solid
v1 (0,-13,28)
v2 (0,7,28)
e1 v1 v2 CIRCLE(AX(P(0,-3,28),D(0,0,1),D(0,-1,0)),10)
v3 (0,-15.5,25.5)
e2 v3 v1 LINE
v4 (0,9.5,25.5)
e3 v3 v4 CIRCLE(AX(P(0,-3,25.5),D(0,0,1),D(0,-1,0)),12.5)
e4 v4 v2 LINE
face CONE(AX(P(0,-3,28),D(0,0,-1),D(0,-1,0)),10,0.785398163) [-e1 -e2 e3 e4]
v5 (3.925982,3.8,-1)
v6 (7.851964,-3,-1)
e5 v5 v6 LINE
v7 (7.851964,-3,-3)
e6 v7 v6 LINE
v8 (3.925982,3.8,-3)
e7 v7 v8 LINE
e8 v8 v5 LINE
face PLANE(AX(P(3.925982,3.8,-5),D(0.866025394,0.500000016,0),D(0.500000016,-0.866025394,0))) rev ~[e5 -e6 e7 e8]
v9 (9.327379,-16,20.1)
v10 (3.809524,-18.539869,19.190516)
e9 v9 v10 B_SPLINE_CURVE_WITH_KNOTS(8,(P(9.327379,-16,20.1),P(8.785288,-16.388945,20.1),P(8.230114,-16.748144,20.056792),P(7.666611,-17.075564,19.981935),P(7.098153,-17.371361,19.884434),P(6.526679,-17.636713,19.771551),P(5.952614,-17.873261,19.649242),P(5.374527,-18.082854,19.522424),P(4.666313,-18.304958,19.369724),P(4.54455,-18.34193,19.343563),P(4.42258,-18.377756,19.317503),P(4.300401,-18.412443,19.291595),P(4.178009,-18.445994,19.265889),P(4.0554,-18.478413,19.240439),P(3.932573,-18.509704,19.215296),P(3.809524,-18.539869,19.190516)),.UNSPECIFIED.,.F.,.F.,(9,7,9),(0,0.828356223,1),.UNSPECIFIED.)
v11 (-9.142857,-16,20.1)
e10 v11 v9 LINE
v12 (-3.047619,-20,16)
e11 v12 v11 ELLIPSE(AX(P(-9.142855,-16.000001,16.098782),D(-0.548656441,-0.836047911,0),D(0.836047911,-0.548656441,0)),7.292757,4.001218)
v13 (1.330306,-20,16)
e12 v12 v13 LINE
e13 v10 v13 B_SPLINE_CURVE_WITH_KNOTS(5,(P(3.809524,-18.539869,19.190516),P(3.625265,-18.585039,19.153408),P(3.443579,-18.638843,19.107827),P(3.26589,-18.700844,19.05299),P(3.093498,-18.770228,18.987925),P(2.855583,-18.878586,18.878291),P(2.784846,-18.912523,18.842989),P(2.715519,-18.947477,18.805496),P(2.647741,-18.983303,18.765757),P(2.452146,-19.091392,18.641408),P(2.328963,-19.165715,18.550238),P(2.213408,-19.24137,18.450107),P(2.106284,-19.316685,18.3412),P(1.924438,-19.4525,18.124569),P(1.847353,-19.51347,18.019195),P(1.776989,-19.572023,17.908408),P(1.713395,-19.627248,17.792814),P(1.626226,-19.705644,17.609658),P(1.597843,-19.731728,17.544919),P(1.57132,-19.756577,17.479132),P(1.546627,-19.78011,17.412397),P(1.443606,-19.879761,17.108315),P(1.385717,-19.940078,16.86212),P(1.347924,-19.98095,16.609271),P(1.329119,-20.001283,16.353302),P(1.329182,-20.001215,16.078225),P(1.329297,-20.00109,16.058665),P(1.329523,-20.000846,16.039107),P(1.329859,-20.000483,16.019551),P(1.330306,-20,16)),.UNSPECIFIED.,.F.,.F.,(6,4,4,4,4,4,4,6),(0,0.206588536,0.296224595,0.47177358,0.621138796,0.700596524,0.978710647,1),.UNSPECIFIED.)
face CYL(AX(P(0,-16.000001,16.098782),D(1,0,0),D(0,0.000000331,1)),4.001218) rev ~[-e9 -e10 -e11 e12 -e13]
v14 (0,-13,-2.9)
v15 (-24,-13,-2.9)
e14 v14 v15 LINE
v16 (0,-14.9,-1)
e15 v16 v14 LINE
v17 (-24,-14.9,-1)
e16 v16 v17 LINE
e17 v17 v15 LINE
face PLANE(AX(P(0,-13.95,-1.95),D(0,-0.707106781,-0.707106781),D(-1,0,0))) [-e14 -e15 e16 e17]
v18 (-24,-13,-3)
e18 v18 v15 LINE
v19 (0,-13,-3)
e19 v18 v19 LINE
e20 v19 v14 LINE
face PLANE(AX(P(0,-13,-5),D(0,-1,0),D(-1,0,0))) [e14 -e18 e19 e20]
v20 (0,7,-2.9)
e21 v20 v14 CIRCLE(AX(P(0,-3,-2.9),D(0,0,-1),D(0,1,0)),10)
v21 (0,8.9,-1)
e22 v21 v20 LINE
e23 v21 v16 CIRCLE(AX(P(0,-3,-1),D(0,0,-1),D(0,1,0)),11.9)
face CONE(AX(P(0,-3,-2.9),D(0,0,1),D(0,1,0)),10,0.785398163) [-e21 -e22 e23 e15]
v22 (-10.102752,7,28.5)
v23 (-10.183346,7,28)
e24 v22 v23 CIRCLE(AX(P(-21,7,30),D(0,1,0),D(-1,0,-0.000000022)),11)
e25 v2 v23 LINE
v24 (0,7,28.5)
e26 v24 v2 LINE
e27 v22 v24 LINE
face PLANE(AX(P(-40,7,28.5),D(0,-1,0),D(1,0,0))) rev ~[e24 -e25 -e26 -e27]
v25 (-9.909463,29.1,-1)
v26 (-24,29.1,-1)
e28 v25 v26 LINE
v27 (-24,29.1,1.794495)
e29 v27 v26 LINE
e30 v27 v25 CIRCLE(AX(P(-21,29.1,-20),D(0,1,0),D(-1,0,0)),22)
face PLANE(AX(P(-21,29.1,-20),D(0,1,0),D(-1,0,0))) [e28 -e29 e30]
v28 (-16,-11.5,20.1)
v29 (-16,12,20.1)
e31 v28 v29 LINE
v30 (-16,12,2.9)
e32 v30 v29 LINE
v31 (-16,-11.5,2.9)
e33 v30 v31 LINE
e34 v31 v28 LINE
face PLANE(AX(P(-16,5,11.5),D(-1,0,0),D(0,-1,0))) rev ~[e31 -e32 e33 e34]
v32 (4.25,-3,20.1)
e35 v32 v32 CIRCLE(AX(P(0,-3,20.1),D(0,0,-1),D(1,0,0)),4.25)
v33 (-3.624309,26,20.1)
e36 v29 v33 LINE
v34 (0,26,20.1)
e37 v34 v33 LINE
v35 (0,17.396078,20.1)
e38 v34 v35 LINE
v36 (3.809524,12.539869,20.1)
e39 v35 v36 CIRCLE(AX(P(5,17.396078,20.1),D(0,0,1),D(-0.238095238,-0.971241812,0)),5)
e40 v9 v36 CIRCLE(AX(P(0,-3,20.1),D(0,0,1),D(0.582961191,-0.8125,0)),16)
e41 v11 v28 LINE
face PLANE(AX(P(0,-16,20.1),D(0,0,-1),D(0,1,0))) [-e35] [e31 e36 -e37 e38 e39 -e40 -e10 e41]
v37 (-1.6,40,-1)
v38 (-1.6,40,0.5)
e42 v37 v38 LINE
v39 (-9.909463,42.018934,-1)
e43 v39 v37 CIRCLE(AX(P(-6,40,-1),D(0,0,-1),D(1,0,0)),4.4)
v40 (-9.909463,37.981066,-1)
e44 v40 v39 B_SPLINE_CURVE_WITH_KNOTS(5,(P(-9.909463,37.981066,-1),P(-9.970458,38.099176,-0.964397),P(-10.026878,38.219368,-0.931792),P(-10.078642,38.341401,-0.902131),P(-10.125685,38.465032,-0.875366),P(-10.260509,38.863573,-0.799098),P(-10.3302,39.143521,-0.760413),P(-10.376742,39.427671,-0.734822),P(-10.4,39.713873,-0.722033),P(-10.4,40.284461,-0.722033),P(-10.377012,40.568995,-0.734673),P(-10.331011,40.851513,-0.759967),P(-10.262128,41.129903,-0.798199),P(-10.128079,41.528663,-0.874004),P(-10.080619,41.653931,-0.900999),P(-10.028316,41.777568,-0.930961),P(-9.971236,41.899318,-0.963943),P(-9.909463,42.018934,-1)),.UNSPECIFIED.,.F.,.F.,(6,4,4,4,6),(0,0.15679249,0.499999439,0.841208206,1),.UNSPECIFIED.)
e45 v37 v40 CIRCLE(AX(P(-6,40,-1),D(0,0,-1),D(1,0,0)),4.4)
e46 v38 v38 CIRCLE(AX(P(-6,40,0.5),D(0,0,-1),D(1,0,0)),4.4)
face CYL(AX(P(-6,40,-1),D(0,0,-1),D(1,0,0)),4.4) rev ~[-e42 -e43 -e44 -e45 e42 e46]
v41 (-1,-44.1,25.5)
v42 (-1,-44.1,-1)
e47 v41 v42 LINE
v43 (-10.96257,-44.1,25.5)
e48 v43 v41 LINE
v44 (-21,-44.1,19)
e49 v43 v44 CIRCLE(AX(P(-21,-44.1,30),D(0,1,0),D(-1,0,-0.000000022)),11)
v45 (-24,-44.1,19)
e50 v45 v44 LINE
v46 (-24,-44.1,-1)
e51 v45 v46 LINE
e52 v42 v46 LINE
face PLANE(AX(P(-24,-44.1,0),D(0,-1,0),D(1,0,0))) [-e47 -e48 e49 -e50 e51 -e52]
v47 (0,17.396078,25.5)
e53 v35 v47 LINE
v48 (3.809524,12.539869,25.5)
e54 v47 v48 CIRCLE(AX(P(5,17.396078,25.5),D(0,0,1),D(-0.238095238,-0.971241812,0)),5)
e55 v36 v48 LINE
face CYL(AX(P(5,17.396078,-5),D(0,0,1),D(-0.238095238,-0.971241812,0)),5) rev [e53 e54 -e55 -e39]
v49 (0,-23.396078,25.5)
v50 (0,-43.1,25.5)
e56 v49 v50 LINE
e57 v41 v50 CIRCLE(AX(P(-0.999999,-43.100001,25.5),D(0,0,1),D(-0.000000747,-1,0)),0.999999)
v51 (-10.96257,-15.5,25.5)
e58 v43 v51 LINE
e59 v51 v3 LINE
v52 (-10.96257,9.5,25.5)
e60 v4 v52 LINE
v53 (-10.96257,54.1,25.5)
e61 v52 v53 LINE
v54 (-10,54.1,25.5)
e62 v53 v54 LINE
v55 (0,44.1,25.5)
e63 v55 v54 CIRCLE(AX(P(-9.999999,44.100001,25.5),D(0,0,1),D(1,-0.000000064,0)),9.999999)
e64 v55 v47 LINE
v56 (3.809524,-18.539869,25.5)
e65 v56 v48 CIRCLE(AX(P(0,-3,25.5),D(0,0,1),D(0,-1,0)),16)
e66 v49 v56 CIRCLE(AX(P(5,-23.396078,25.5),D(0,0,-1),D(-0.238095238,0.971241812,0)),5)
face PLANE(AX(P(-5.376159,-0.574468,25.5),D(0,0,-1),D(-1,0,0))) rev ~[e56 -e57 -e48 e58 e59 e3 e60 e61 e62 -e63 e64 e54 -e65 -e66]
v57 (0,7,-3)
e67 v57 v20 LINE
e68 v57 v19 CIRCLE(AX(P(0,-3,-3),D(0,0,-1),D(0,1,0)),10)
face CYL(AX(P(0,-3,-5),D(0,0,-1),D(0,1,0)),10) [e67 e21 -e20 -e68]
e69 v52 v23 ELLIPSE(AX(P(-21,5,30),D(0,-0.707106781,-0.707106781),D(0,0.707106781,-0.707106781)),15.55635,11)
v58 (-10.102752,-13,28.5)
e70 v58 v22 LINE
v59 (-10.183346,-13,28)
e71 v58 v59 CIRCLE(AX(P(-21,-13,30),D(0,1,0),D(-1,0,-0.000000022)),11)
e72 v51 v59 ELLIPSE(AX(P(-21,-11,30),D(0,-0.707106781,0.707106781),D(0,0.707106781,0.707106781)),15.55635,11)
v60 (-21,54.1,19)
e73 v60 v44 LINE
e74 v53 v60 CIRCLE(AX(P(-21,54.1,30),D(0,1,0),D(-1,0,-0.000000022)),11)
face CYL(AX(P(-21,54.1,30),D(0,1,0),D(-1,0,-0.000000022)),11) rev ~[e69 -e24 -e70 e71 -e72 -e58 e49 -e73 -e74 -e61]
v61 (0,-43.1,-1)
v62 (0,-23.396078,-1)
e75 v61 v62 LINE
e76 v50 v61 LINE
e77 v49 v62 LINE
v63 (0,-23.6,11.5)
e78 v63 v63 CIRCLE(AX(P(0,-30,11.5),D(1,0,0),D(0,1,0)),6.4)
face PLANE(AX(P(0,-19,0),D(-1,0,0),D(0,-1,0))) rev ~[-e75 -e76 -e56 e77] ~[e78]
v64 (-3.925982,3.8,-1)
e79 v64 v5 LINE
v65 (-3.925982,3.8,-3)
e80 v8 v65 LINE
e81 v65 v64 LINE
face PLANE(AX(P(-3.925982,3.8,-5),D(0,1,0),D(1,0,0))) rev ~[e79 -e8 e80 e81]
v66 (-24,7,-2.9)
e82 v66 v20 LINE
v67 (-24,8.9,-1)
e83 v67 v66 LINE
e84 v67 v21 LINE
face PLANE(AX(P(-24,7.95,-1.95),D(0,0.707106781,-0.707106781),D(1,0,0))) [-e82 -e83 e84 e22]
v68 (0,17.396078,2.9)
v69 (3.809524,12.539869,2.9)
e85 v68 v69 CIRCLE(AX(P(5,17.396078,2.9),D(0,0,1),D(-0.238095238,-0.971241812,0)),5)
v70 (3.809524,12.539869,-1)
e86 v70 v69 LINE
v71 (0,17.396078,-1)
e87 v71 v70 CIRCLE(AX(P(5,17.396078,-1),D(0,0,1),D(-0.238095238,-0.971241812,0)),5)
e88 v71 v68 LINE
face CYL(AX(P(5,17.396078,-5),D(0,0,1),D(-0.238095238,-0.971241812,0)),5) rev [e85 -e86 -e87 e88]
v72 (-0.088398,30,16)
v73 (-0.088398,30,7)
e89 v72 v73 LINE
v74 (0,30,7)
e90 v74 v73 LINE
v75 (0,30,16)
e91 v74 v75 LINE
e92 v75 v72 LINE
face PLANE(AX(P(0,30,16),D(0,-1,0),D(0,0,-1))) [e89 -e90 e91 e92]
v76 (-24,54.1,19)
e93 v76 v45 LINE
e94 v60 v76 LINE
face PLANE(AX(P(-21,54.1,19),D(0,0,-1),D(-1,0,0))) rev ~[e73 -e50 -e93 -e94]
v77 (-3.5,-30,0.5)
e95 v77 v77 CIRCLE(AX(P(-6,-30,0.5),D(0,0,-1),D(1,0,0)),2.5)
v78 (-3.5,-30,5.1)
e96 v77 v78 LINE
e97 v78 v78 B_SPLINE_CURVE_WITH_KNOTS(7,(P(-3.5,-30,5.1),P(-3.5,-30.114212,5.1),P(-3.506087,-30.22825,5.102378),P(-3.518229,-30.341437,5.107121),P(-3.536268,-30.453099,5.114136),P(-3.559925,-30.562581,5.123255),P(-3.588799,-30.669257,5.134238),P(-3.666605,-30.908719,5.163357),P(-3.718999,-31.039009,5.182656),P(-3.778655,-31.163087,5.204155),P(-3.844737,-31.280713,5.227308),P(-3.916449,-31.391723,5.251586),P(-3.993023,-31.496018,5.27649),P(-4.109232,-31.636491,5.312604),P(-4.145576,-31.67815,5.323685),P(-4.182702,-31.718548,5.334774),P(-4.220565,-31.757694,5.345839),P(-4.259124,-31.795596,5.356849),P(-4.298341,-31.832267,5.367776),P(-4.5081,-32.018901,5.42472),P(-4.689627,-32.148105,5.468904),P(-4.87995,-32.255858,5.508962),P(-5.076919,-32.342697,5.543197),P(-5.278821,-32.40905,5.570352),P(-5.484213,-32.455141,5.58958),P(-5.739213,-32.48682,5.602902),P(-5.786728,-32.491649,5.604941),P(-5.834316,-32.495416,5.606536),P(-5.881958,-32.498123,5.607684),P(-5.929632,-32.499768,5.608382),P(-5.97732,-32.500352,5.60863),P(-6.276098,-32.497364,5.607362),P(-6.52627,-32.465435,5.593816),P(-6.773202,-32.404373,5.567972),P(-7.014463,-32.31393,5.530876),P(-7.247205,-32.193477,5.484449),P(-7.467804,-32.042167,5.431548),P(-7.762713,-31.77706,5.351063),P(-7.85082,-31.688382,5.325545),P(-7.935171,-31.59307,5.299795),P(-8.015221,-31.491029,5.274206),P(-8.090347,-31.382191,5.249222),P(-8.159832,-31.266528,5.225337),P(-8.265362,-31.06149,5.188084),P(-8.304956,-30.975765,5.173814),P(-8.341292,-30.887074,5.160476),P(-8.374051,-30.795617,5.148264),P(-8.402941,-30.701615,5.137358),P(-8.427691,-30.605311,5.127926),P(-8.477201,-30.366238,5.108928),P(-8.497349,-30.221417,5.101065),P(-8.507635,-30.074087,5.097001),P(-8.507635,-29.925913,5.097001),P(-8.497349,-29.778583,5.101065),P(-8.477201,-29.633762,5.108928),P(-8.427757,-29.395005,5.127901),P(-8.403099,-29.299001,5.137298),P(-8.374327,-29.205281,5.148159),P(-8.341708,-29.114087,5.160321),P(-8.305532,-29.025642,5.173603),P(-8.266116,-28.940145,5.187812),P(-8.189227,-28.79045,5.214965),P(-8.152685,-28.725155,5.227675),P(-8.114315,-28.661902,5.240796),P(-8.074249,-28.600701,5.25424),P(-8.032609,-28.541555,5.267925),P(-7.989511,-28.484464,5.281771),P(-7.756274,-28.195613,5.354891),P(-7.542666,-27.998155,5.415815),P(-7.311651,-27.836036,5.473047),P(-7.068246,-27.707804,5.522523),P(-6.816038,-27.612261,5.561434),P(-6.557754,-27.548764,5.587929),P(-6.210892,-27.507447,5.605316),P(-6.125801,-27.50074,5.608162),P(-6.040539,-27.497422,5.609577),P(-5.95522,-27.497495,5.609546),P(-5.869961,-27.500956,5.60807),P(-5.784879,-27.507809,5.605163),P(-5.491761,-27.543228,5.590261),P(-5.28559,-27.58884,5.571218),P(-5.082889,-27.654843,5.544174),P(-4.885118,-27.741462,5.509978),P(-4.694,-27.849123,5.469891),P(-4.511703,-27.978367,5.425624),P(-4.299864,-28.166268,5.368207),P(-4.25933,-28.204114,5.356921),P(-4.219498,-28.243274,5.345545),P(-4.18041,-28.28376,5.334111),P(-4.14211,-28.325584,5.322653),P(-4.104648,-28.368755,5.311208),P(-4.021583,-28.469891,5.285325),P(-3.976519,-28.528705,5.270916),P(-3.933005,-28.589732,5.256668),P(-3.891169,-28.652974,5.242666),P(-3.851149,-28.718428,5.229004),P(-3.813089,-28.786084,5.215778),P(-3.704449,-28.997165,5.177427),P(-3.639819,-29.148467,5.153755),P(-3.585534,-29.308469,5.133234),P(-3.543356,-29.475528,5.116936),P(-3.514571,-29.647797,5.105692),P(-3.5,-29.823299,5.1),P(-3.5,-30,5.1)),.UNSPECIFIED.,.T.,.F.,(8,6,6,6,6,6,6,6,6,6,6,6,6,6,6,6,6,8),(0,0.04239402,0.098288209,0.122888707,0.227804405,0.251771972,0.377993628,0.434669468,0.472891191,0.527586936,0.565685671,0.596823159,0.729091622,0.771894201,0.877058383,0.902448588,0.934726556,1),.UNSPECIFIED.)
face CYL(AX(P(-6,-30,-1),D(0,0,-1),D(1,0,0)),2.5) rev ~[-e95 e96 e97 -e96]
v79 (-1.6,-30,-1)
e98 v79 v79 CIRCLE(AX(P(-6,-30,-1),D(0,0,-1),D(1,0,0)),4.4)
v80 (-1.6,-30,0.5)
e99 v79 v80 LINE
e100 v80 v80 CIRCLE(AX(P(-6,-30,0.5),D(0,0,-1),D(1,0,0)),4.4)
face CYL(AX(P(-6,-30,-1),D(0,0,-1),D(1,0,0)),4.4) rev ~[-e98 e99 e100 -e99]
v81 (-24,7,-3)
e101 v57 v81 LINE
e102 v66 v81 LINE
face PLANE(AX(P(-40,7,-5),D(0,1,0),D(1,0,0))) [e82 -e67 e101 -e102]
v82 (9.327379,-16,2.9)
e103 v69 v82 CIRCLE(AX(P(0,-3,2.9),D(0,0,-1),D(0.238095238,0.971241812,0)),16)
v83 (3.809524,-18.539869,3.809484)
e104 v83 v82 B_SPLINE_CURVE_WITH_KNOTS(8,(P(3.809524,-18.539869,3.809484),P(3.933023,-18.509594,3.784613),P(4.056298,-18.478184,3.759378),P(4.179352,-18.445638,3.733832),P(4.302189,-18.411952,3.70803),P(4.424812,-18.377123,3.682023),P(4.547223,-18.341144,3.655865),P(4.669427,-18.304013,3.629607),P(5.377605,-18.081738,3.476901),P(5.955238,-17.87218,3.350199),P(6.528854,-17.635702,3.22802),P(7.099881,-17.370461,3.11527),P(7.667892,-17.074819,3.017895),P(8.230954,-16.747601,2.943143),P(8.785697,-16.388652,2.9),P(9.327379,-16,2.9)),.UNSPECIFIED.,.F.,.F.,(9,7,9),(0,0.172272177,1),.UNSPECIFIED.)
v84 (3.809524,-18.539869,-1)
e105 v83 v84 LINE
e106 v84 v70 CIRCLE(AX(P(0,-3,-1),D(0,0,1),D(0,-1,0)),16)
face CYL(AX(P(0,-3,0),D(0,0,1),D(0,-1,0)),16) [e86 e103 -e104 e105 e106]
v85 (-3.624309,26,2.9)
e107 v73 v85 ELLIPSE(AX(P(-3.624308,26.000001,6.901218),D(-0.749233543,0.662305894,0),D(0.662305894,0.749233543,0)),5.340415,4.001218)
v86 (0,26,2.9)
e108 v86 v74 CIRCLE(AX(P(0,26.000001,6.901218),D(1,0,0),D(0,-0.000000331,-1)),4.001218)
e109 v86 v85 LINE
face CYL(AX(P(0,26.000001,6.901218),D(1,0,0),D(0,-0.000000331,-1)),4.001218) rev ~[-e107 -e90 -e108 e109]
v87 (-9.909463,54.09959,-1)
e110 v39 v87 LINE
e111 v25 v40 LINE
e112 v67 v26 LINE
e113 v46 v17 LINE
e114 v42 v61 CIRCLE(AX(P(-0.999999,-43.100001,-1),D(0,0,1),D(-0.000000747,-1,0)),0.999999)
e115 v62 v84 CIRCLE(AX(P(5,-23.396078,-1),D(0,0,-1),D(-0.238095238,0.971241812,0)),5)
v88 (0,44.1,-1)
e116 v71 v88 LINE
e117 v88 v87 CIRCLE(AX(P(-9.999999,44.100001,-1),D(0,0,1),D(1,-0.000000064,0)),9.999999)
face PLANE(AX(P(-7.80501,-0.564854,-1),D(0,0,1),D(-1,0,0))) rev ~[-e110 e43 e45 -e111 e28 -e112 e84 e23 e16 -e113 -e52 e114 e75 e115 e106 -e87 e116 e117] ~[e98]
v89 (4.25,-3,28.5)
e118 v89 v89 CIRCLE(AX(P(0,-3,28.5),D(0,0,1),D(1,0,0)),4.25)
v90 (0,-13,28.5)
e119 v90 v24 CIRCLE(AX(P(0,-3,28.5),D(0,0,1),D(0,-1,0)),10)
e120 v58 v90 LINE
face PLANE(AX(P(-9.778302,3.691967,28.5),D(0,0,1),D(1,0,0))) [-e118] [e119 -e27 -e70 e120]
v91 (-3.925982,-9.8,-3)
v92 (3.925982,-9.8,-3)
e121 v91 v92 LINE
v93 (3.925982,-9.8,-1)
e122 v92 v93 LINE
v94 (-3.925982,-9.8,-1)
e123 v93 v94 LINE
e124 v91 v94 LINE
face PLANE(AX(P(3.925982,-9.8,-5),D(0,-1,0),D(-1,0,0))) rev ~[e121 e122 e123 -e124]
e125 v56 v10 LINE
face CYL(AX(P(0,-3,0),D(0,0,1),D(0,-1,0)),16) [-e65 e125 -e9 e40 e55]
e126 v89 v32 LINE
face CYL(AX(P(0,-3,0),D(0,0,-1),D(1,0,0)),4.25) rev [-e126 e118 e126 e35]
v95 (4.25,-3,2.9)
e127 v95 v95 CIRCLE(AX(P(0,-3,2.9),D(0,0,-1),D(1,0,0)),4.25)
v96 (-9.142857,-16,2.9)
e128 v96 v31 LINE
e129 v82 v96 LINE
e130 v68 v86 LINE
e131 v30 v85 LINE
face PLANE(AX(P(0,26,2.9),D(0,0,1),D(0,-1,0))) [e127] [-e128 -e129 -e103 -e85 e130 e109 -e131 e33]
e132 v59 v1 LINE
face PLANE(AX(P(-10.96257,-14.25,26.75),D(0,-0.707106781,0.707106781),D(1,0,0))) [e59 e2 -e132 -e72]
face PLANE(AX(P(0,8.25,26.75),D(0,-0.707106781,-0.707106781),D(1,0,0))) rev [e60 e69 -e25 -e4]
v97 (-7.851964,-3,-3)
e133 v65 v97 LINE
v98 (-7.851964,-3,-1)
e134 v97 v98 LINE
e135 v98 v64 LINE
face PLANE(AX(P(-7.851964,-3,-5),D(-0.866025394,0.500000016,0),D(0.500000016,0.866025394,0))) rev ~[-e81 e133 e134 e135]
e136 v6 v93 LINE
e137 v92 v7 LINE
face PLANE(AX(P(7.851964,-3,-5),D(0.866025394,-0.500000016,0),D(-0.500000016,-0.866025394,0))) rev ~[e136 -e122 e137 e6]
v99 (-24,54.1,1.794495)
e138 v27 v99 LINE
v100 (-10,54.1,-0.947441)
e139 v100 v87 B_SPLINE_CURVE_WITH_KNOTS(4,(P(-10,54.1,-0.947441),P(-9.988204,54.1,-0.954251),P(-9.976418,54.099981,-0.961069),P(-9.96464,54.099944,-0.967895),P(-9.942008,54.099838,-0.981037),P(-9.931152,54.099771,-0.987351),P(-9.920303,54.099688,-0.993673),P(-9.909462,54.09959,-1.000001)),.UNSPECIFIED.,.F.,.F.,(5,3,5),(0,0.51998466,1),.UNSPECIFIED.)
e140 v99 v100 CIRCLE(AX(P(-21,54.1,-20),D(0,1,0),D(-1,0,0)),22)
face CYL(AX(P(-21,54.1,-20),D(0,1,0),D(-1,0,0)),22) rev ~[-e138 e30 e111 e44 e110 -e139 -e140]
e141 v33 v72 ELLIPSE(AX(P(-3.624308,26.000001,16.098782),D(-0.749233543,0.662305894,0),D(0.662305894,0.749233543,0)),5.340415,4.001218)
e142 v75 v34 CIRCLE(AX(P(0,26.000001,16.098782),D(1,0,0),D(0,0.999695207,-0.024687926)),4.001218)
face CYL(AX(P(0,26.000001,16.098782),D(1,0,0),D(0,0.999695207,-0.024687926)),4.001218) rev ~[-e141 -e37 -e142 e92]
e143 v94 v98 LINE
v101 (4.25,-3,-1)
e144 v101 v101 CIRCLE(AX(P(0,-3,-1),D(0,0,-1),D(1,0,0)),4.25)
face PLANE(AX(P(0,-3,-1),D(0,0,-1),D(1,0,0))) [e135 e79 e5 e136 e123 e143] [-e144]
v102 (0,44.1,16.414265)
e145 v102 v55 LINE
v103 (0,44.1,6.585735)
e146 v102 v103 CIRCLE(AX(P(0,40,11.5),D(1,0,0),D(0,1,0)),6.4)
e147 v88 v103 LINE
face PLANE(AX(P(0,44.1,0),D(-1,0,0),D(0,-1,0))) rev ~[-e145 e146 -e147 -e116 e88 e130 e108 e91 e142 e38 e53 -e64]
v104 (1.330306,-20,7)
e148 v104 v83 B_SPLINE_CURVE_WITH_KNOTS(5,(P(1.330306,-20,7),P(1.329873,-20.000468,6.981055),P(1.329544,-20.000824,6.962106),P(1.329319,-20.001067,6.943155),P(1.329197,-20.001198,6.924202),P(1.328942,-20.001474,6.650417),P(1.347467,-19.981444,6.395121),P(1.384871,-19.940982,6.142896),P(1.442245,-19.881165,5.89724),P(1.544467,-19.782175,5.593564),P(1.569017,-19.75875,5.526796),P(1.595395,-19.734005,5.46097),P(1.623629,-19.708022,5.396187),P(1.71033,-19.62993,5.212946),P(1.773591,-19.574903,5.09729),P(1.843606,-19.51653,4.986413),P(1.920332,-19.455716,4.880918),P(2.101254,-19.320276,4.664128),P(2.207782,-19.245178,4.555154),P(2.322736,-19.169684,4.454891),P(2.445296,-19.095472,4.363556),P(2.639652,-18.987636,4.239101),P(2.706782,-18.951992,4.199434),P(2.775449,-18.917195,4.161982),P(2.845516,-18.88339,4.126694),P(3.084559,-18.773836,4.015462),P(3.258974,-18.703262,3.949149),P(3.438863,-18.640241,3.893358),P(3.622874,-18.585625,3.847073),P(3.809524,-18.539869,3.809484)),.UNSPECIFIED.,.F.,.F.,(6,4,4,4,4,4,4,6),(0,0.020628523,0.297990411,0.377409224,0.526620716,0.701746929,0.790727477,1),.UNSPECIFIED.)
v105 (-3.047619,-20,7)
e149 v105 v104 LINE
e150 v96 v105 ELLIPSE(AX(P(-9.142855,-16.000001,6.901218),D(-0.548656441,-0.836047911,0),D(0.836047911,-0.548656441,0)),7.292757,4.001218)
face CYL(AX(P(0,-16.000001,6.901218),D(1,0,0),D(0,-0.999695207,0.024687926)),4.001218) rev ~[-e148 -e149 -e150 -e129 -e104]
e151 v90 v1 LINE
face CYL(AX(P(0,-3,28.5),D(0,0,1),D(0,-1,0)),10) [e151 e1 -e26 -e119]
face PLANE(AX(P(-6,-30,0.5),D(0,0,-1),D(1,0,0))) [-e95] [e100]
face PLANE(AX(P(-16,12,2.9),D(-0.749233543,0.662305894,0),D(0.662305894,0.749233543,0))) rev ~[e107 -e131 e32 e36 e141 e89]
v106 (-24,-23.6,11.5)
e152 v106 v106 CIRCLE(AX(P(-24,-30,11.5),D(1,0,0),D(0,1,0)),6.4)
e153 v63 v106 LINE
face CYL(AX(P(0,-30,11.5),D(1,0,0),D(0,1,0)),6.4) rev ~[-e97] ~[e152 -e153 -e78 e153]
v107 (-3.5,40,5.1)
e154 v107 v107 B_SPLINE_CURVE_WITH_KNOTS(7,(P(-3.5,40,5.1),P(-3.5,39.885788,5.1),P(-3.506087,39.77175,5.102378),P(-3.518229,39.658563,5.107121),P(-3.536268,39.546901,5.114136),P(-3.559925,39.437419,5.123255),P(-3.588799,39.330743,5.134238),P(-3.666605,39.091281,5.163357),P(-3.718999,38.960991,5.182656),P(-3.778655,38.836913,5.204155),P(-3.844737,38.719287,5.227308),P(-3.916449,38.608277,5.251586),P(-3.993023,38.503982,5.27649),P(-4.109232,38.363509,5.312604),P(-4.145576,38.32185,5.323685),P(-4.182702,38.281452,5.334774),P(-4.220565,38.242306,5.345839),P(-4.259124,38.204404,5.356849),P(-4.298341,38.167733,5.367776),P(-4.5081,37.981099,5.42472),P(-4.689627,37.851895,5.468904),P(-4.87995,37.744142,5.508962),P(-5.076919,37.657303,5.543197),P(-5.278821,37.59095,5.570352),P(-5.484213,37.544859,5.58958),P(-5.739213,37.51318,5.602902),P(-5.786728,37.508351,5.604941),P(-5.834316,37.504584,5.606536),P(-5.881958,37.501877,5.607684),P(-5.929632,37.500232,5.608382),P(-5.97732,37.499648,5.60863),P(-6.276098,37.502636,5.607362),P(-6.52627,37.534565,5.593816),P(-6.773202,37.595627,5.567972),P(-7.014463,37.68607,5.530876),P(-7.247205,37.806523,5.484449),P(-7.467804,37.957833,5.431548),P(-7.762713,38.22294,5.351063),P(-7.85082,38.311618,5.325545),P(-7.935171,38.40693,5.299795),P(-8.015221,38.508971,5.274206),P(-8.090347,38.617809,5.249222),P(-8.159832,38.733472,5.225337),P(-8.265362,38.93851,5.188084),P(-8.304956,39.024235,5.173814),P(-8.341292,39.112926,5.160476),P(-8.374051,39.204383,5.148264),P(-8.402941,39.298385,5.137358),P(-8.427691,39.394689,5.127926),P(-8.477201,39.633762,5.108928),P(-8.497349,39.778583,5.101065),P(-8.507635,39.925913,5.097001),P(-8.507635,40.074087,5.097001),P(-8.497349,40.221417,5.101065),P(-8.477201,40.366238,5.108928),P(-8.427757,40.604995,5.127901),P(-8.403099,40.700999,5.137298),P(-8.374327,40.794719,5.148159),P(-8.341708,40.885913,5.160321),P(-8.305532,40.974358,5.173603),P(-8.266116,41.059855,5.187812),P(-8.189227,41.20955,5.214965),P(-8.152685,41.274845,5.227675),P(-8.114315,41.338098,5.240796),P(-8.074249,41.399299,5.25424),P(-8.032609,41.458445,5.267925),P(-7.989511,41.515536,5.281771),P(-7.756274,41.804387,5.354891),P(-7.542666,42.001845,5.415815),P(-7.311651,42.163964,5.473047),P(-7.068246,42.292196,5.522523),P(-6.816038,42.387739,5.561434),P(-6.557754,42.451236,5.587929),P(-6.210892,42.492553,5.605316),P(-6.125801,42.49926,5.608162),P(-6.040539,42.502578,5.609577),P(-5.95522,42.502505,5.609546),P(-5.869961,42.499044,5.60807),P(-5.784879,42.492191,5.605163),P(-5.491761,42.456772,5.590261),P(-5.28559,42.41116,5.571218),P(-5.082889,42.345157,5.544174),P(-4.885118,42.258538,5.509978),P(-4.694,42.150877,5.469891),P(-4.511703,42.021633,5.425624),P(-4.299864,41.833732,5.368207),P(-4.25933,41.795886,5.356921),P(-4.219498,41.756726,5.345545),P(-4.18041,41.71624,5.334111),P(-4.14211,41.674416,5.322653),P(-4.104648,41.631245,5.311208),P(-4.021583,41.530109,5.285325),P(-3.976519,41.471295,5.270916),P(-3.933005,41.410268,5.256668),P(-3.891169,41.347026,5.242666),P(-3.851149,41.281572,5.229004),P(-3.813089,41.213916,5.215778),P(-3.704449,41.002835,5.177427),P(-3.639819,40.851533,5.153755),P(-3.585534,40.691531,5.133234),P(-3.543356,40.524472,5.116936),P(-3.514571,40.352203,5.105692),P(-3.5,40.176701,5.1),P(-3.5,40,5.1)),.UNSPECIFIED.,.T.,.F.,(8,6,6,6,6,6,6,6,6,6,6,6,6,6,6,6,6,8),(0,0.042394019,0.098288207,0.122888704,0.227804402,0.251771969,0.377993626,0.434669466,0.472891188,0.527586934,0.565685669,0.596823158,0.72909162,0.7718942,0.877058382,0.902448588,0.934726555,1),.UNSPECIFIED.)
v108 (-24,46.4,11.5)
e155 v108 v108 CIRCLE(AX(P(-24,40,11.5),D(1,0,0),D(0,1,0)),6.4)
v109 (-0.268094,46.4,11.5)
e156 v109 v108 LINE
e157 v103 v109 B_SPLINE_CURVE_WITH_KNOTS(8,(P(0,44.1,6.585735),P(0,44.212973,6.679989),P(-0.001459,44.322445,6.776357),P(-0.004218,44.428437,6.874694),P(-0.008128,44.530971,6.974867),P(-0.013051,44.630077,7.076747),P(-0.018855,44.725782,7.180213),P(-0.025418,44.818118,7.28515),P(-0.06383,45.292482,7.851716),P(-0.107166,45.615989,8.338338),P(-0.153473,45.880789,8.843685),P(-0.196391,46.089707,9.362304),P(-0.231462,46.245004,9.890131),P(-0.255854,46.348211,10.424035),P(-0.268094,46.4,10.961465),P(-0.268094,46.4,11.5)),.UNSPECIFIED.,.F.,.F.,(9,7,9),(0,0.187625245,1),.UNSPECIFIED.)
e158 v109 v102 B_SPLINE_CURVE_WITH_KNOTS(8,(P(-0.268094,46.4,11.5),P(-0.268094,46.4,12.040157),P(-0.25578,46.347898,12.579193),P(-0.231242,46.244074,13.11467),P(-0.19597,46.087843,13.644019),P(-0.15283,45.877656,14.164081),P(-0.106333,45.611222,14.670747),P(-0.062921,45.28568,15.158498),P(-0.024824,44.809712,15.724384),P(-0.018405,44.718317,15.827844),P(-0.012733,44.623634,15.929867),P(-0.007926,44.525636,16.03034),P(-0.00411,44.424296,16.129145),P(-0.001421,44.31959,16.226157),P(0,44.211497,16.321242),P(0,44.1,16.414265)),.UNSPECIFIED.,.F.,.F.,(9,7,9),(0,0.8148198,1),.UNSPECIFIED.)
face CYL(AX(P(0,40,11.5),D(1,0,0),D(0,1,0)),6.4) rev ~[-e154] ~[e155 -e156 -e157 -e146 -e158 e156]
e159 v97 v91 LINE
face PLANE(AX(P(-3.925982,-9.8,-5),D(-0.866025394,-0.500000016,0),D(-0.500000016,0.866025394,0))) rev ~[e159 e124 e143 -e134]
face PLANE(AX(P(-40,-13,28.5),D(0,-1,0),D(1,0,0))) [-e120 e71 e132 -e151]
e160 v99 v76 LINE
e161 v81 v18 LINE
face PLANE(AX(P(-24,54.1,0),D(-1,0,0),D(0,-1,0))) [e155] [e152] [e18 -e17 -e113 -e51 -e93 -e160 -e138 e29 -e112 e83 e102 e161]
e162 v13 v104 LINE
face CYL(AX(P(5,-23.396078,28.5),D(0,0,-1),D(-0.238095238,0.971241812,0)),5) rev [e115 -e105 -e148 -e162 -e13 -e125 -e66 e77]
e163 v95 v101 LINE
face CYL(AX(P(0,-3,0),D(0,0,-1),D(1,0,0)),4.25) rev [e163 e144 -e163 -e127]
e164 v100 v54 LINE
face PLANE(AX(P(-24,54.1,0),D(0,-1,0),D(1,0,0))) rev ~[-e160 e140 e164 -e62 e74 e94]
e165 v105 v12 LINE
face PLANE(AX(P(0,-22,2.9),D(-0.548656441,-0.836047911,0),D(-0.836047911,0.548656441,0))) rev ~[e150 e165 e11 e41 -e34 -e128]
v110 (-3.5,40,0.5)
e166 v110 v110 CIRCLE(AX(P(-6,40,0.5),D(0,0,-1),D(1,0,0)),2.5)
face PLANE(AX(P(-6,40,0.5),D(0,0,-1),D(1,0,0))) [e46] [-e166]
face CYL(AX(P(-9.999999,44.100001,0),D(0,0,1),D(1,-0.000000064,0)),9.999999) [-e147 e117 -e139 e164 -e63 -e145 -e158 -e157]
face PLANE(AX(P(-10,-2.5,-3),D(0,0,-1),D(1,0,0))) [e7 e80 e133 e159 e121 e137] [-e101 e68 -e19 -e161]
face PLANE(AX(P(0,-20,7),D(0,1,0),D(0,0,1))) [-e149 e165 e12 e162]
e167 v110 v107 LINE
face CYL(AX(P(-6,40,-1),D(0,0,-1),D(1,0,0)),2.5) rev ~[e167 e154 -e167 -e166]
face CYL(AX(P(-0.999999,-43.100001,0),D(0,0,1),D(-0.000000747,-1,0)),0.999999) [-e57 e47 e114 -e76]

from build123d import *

# Parameters (mm, degrees)
SKETCH_R          = 4.25
PAD_DEPTH         = 28.5
PAD_DEPTH_BACK    = 5
FILLET_R          = 5
SKETCH002_R       = 6.4
POCKET_DEPTH      = 24.001
POCKET_DEPTH_BACK = -16.001
POCKET001_DEPTH   = 3
POCKET002_DEPTH   = 4
POCKET003_DEPTH   = 98.201
POCKET004_DEPTH   = 4
POCKET005_DEPTH   = 16
SKETCH028_R       = 22
POCKET006_DEPTH   = 25
SKETCH031_R       = 2.5
POCKET007_DEPTH   = 9
PAD001_DEPTH      = 17.2
SKETCH034_W       = 50
SKETCH034_H       = 25
POCKET008_DEPTH   = 2
SKETCH036_R       = 4.4
POCKET009_DEPTH   = 1.5
CHAMFER_SIZE      = 1.9
CHAMFER001_SIZE   = 2.5


with BuildPart() as part:
    # Sketch → Pad (new body, two sides)
    with BuildSketch(Plane.XY) as pad_sk:
        with BuildLine():
            ThreePointArc((0, -19), (16, -3), (0, 13))
            Line((0, 44.1), (0, 13))
            ThreePointArc((0, 44.1), (-2.928932, 51.171068), (-10, 54.1))
            Line((-24, 54.1), (-10, 54.1))
            Line((-24, 54.1), (-24, -44.1))
            Line((-24, -44.1), (-1, -44.1))
            ThreePointArc((-1, -44.1), (-0.292893, -43.807107), (0, -43.1))
            Line((0, -19), (0, -43.1))
        make_face()
        with Locations((0, -3)):
            Circle(SKETCH_R, mode=Mode.SUBTRACT)
    extrude(amount=PAD_DEPTH)
    extrude(pad_sk.sketch, amount=-PAD_DEPTH_BACK)

    # Fillet
    fillet_edges = [part.edges().sort_by_distance(p)[0] for p in [
        (0, 13, 11.75),
        (0, -19, 11.75),
    ]]
    fillet(fillet_edges, radius=FILLET_R)

    # Sketch002 → Pocket (cut, two sides)
    with BuildSketch(Plane.YZ) as pocket_sk:
        with Locations((-30, 11.5)):
            Circle(SKETCH002_R)
        with Locations((40, 11.5)):
            Circle(SKETCH002_R)
    extrude(amount=-POCKET_DEPTH, mode=Mode.SUBTRACT)
    extrude(pocket_sk.sketch, amount=-POCKET_DEPTH_BACK, mode=Mode.SUBTRACT)

    # Sketch013 → Pocket001 (cut)
    with BuildSketch(Plane.XY.offset(28.5)):
        with BuildLine():
            ThreePointArc((0, -13), (10, -3), (0, 7))
            Line((-40, 7), (0, 7))
            Line((-40, 7), (-40, 60))
            Line((-40, 60), (30, 60))
            Line((30, 60), (30, -60))
            Line((30, -60), (-40, -60))
            Line((-40, -60), (-40, -13))
            Line((-40, -13), (0, -13))
        make_face()
    extrude(amount=-POCKET001_DEPTH, mode=Mode.SUBTRACT)

    # Sketch024 → Pocket002 (cut)
    with BuildSketch(Plane(origin=(0, 0, -5), x_dir=(1, 0, 0), z_dir=(0, 0, -1))):
        with BuildLine():
            Line((0, 13), (-40, 13))
            Line((-40, 13), (-40, 65))
            Line((-40, 65), (24, 65))
            Line((24, 65), (24, -65))
            Line((24, -65), (-40, -65))
            Line((-40, -7), (-40, -65))
            Line((-40, -7), (0, -7))
            ThreePointArc((0, -7), (10, 3), (0, 13))
        make_face()
    extrude(amount=-POCKET002_DEPTH, mode=Mode.SUBTRACT)

    # Sketch029 → Pocket003 (cut, through all)
    with BuildSketch(Plane(origin=(0, 54.1, 0), x_dir=(-1, 0, 0), z_dir=(0, 1, 0))):
        with BuildLine():
            ThreePointArc((32, 30), (13.221825, 37.778175), (21, 19))
            Line((21, 19), (32, 19))
            Line((32, 30), (32, 19))
        make_face()
    extrude(amount=-POCKET003_DEPTH, mode=Mode.SUBTRACT)

    # Sketch027 → Pocket004 (cut)
    with BuildSketch(Plane(origin=(0, 0, -5), x_dir=(1, 0, 0), z_dir=(0, 0, -1))):
        Polygon((3.925982, 9.8), (-3.925982, 9.8), (-7.851964, 3), (-3.925982, -3.8), (3.925982, -3.8), (7.851964, 3), align=None)
    extrude(amount=-POCKET004_DEPTH, mode=Mode.SUBTRACT)

    # Sketch025 → Pocket005 (cut, symmetric)
    with BuildSketch(Plane.YZ):
        with BuildLine():
            Line((-16, 20.1), (26, 20.1))
            ThreePointArc((30, 16), (28.864001, 18.892928), (26, 20.1))
            Line((30, 16), (30, 7))
            ThreePointArc((26, 2.9), (28.864001, 4.107072), (30, 7))
            Line((26, 2.9), (-16, 2.9))
            ThreePointArc((-20, 7), (-18.864001, 4.107072), (-16, 2.9))
            Line((-20, 7), (-20, 16))
            ThreePointArc((-16, 20.1), (-18.864001, 18.892928), (-20, 16))
        make_face()
    extrude(amount=POCKET005_DEPTH, both=True, mode=Mode.SUBTRACT)

    # Sketch028 → Pocket006 (cut)
    with BuildSketch(Plane(origin=(0, 54.1, 0), x_dir=(-1, 0, 0), z_dir=(0, 1, 0))):
        with Locations((21, -20)):
            Circle(SKETCH028_R)
    extrude(amount=-POCKET006_DEPTH, mode=Mode.SUBTRACT)

    # Sketch031 → Pocket007 (cut)
    with BuildSketch(Plane(origin=(0, 0, -1), x_dir=(1, 0, 0), z_dir=(0, 0, -1))):
        with Locations((-6, 30)):
            Circle(SKETCH031_R)
        with Locations((-6, -40)):
            Circle(SKETCH031_R)
    extrude(amount=-POCKET007_DEPTH, mode=Mode.SUBTRACT)

    # Sketch032 → Pad001 (new body)
    with BuildSketch(Plane.XY.offset(2.9)):
        Polygon((0, -22), (-16, -11.5), (-16, -22), align=None)
        Polygon((-16, 12), (0, 30.1), (-16, 30.1), align=None)
    extrude(amount=PAD001_DEPTH)

    # Sketch034 → Pocket008 (cut)
    with BuildSketch(Plane(origin=(0, 0, -5), x_dir=(1, 0, 0), z_dir=(0, 0, -1))):
        with Locations((-10, 2.5)):
            Rectangle(SKETCH034_W, SKETCH034_H)
    extrude(amount=-POCKET008_DEPTH, mode=Mode.SUBTRACT)

    # Sketch036 → Pocket009 (cut)
    with BuildSketch(Plane(origin=(0, 0, -1), x_dir=(1, 0, 0), z_dir=(0, 0, -1))):
        with Locations((-6, 30)):
            Circle(SKETCH036_R)
        with Locations((-6, -40)):
            Circle(SKETCH036_R)
    extrude(amount=-POCKET009_DEPTH, mode=Mode.SUBTRACT)

    # Chamfer
    chamfer_edges = [part.edges().sort_by_distance(p)[0] for p in [
        (-12, -13, -1),
        (-12, 7, -1),
        (10, -3, -1),
    ]]
    chamfer(chamfer_edges, length=CHAMFER_SIZE)

    # Chamfer001
    chamfer001_edges = [part.edges().sort_by_distance(p)[0] for p in [
        (10, -3, 25.5),
        (-5.481285, -13, 25.5),
        (-5.481285, 7, 25.5),
    ]]
    chamfer(chamfer001_edges, length=CHAMFER001_SIZE)


solid = part.part
